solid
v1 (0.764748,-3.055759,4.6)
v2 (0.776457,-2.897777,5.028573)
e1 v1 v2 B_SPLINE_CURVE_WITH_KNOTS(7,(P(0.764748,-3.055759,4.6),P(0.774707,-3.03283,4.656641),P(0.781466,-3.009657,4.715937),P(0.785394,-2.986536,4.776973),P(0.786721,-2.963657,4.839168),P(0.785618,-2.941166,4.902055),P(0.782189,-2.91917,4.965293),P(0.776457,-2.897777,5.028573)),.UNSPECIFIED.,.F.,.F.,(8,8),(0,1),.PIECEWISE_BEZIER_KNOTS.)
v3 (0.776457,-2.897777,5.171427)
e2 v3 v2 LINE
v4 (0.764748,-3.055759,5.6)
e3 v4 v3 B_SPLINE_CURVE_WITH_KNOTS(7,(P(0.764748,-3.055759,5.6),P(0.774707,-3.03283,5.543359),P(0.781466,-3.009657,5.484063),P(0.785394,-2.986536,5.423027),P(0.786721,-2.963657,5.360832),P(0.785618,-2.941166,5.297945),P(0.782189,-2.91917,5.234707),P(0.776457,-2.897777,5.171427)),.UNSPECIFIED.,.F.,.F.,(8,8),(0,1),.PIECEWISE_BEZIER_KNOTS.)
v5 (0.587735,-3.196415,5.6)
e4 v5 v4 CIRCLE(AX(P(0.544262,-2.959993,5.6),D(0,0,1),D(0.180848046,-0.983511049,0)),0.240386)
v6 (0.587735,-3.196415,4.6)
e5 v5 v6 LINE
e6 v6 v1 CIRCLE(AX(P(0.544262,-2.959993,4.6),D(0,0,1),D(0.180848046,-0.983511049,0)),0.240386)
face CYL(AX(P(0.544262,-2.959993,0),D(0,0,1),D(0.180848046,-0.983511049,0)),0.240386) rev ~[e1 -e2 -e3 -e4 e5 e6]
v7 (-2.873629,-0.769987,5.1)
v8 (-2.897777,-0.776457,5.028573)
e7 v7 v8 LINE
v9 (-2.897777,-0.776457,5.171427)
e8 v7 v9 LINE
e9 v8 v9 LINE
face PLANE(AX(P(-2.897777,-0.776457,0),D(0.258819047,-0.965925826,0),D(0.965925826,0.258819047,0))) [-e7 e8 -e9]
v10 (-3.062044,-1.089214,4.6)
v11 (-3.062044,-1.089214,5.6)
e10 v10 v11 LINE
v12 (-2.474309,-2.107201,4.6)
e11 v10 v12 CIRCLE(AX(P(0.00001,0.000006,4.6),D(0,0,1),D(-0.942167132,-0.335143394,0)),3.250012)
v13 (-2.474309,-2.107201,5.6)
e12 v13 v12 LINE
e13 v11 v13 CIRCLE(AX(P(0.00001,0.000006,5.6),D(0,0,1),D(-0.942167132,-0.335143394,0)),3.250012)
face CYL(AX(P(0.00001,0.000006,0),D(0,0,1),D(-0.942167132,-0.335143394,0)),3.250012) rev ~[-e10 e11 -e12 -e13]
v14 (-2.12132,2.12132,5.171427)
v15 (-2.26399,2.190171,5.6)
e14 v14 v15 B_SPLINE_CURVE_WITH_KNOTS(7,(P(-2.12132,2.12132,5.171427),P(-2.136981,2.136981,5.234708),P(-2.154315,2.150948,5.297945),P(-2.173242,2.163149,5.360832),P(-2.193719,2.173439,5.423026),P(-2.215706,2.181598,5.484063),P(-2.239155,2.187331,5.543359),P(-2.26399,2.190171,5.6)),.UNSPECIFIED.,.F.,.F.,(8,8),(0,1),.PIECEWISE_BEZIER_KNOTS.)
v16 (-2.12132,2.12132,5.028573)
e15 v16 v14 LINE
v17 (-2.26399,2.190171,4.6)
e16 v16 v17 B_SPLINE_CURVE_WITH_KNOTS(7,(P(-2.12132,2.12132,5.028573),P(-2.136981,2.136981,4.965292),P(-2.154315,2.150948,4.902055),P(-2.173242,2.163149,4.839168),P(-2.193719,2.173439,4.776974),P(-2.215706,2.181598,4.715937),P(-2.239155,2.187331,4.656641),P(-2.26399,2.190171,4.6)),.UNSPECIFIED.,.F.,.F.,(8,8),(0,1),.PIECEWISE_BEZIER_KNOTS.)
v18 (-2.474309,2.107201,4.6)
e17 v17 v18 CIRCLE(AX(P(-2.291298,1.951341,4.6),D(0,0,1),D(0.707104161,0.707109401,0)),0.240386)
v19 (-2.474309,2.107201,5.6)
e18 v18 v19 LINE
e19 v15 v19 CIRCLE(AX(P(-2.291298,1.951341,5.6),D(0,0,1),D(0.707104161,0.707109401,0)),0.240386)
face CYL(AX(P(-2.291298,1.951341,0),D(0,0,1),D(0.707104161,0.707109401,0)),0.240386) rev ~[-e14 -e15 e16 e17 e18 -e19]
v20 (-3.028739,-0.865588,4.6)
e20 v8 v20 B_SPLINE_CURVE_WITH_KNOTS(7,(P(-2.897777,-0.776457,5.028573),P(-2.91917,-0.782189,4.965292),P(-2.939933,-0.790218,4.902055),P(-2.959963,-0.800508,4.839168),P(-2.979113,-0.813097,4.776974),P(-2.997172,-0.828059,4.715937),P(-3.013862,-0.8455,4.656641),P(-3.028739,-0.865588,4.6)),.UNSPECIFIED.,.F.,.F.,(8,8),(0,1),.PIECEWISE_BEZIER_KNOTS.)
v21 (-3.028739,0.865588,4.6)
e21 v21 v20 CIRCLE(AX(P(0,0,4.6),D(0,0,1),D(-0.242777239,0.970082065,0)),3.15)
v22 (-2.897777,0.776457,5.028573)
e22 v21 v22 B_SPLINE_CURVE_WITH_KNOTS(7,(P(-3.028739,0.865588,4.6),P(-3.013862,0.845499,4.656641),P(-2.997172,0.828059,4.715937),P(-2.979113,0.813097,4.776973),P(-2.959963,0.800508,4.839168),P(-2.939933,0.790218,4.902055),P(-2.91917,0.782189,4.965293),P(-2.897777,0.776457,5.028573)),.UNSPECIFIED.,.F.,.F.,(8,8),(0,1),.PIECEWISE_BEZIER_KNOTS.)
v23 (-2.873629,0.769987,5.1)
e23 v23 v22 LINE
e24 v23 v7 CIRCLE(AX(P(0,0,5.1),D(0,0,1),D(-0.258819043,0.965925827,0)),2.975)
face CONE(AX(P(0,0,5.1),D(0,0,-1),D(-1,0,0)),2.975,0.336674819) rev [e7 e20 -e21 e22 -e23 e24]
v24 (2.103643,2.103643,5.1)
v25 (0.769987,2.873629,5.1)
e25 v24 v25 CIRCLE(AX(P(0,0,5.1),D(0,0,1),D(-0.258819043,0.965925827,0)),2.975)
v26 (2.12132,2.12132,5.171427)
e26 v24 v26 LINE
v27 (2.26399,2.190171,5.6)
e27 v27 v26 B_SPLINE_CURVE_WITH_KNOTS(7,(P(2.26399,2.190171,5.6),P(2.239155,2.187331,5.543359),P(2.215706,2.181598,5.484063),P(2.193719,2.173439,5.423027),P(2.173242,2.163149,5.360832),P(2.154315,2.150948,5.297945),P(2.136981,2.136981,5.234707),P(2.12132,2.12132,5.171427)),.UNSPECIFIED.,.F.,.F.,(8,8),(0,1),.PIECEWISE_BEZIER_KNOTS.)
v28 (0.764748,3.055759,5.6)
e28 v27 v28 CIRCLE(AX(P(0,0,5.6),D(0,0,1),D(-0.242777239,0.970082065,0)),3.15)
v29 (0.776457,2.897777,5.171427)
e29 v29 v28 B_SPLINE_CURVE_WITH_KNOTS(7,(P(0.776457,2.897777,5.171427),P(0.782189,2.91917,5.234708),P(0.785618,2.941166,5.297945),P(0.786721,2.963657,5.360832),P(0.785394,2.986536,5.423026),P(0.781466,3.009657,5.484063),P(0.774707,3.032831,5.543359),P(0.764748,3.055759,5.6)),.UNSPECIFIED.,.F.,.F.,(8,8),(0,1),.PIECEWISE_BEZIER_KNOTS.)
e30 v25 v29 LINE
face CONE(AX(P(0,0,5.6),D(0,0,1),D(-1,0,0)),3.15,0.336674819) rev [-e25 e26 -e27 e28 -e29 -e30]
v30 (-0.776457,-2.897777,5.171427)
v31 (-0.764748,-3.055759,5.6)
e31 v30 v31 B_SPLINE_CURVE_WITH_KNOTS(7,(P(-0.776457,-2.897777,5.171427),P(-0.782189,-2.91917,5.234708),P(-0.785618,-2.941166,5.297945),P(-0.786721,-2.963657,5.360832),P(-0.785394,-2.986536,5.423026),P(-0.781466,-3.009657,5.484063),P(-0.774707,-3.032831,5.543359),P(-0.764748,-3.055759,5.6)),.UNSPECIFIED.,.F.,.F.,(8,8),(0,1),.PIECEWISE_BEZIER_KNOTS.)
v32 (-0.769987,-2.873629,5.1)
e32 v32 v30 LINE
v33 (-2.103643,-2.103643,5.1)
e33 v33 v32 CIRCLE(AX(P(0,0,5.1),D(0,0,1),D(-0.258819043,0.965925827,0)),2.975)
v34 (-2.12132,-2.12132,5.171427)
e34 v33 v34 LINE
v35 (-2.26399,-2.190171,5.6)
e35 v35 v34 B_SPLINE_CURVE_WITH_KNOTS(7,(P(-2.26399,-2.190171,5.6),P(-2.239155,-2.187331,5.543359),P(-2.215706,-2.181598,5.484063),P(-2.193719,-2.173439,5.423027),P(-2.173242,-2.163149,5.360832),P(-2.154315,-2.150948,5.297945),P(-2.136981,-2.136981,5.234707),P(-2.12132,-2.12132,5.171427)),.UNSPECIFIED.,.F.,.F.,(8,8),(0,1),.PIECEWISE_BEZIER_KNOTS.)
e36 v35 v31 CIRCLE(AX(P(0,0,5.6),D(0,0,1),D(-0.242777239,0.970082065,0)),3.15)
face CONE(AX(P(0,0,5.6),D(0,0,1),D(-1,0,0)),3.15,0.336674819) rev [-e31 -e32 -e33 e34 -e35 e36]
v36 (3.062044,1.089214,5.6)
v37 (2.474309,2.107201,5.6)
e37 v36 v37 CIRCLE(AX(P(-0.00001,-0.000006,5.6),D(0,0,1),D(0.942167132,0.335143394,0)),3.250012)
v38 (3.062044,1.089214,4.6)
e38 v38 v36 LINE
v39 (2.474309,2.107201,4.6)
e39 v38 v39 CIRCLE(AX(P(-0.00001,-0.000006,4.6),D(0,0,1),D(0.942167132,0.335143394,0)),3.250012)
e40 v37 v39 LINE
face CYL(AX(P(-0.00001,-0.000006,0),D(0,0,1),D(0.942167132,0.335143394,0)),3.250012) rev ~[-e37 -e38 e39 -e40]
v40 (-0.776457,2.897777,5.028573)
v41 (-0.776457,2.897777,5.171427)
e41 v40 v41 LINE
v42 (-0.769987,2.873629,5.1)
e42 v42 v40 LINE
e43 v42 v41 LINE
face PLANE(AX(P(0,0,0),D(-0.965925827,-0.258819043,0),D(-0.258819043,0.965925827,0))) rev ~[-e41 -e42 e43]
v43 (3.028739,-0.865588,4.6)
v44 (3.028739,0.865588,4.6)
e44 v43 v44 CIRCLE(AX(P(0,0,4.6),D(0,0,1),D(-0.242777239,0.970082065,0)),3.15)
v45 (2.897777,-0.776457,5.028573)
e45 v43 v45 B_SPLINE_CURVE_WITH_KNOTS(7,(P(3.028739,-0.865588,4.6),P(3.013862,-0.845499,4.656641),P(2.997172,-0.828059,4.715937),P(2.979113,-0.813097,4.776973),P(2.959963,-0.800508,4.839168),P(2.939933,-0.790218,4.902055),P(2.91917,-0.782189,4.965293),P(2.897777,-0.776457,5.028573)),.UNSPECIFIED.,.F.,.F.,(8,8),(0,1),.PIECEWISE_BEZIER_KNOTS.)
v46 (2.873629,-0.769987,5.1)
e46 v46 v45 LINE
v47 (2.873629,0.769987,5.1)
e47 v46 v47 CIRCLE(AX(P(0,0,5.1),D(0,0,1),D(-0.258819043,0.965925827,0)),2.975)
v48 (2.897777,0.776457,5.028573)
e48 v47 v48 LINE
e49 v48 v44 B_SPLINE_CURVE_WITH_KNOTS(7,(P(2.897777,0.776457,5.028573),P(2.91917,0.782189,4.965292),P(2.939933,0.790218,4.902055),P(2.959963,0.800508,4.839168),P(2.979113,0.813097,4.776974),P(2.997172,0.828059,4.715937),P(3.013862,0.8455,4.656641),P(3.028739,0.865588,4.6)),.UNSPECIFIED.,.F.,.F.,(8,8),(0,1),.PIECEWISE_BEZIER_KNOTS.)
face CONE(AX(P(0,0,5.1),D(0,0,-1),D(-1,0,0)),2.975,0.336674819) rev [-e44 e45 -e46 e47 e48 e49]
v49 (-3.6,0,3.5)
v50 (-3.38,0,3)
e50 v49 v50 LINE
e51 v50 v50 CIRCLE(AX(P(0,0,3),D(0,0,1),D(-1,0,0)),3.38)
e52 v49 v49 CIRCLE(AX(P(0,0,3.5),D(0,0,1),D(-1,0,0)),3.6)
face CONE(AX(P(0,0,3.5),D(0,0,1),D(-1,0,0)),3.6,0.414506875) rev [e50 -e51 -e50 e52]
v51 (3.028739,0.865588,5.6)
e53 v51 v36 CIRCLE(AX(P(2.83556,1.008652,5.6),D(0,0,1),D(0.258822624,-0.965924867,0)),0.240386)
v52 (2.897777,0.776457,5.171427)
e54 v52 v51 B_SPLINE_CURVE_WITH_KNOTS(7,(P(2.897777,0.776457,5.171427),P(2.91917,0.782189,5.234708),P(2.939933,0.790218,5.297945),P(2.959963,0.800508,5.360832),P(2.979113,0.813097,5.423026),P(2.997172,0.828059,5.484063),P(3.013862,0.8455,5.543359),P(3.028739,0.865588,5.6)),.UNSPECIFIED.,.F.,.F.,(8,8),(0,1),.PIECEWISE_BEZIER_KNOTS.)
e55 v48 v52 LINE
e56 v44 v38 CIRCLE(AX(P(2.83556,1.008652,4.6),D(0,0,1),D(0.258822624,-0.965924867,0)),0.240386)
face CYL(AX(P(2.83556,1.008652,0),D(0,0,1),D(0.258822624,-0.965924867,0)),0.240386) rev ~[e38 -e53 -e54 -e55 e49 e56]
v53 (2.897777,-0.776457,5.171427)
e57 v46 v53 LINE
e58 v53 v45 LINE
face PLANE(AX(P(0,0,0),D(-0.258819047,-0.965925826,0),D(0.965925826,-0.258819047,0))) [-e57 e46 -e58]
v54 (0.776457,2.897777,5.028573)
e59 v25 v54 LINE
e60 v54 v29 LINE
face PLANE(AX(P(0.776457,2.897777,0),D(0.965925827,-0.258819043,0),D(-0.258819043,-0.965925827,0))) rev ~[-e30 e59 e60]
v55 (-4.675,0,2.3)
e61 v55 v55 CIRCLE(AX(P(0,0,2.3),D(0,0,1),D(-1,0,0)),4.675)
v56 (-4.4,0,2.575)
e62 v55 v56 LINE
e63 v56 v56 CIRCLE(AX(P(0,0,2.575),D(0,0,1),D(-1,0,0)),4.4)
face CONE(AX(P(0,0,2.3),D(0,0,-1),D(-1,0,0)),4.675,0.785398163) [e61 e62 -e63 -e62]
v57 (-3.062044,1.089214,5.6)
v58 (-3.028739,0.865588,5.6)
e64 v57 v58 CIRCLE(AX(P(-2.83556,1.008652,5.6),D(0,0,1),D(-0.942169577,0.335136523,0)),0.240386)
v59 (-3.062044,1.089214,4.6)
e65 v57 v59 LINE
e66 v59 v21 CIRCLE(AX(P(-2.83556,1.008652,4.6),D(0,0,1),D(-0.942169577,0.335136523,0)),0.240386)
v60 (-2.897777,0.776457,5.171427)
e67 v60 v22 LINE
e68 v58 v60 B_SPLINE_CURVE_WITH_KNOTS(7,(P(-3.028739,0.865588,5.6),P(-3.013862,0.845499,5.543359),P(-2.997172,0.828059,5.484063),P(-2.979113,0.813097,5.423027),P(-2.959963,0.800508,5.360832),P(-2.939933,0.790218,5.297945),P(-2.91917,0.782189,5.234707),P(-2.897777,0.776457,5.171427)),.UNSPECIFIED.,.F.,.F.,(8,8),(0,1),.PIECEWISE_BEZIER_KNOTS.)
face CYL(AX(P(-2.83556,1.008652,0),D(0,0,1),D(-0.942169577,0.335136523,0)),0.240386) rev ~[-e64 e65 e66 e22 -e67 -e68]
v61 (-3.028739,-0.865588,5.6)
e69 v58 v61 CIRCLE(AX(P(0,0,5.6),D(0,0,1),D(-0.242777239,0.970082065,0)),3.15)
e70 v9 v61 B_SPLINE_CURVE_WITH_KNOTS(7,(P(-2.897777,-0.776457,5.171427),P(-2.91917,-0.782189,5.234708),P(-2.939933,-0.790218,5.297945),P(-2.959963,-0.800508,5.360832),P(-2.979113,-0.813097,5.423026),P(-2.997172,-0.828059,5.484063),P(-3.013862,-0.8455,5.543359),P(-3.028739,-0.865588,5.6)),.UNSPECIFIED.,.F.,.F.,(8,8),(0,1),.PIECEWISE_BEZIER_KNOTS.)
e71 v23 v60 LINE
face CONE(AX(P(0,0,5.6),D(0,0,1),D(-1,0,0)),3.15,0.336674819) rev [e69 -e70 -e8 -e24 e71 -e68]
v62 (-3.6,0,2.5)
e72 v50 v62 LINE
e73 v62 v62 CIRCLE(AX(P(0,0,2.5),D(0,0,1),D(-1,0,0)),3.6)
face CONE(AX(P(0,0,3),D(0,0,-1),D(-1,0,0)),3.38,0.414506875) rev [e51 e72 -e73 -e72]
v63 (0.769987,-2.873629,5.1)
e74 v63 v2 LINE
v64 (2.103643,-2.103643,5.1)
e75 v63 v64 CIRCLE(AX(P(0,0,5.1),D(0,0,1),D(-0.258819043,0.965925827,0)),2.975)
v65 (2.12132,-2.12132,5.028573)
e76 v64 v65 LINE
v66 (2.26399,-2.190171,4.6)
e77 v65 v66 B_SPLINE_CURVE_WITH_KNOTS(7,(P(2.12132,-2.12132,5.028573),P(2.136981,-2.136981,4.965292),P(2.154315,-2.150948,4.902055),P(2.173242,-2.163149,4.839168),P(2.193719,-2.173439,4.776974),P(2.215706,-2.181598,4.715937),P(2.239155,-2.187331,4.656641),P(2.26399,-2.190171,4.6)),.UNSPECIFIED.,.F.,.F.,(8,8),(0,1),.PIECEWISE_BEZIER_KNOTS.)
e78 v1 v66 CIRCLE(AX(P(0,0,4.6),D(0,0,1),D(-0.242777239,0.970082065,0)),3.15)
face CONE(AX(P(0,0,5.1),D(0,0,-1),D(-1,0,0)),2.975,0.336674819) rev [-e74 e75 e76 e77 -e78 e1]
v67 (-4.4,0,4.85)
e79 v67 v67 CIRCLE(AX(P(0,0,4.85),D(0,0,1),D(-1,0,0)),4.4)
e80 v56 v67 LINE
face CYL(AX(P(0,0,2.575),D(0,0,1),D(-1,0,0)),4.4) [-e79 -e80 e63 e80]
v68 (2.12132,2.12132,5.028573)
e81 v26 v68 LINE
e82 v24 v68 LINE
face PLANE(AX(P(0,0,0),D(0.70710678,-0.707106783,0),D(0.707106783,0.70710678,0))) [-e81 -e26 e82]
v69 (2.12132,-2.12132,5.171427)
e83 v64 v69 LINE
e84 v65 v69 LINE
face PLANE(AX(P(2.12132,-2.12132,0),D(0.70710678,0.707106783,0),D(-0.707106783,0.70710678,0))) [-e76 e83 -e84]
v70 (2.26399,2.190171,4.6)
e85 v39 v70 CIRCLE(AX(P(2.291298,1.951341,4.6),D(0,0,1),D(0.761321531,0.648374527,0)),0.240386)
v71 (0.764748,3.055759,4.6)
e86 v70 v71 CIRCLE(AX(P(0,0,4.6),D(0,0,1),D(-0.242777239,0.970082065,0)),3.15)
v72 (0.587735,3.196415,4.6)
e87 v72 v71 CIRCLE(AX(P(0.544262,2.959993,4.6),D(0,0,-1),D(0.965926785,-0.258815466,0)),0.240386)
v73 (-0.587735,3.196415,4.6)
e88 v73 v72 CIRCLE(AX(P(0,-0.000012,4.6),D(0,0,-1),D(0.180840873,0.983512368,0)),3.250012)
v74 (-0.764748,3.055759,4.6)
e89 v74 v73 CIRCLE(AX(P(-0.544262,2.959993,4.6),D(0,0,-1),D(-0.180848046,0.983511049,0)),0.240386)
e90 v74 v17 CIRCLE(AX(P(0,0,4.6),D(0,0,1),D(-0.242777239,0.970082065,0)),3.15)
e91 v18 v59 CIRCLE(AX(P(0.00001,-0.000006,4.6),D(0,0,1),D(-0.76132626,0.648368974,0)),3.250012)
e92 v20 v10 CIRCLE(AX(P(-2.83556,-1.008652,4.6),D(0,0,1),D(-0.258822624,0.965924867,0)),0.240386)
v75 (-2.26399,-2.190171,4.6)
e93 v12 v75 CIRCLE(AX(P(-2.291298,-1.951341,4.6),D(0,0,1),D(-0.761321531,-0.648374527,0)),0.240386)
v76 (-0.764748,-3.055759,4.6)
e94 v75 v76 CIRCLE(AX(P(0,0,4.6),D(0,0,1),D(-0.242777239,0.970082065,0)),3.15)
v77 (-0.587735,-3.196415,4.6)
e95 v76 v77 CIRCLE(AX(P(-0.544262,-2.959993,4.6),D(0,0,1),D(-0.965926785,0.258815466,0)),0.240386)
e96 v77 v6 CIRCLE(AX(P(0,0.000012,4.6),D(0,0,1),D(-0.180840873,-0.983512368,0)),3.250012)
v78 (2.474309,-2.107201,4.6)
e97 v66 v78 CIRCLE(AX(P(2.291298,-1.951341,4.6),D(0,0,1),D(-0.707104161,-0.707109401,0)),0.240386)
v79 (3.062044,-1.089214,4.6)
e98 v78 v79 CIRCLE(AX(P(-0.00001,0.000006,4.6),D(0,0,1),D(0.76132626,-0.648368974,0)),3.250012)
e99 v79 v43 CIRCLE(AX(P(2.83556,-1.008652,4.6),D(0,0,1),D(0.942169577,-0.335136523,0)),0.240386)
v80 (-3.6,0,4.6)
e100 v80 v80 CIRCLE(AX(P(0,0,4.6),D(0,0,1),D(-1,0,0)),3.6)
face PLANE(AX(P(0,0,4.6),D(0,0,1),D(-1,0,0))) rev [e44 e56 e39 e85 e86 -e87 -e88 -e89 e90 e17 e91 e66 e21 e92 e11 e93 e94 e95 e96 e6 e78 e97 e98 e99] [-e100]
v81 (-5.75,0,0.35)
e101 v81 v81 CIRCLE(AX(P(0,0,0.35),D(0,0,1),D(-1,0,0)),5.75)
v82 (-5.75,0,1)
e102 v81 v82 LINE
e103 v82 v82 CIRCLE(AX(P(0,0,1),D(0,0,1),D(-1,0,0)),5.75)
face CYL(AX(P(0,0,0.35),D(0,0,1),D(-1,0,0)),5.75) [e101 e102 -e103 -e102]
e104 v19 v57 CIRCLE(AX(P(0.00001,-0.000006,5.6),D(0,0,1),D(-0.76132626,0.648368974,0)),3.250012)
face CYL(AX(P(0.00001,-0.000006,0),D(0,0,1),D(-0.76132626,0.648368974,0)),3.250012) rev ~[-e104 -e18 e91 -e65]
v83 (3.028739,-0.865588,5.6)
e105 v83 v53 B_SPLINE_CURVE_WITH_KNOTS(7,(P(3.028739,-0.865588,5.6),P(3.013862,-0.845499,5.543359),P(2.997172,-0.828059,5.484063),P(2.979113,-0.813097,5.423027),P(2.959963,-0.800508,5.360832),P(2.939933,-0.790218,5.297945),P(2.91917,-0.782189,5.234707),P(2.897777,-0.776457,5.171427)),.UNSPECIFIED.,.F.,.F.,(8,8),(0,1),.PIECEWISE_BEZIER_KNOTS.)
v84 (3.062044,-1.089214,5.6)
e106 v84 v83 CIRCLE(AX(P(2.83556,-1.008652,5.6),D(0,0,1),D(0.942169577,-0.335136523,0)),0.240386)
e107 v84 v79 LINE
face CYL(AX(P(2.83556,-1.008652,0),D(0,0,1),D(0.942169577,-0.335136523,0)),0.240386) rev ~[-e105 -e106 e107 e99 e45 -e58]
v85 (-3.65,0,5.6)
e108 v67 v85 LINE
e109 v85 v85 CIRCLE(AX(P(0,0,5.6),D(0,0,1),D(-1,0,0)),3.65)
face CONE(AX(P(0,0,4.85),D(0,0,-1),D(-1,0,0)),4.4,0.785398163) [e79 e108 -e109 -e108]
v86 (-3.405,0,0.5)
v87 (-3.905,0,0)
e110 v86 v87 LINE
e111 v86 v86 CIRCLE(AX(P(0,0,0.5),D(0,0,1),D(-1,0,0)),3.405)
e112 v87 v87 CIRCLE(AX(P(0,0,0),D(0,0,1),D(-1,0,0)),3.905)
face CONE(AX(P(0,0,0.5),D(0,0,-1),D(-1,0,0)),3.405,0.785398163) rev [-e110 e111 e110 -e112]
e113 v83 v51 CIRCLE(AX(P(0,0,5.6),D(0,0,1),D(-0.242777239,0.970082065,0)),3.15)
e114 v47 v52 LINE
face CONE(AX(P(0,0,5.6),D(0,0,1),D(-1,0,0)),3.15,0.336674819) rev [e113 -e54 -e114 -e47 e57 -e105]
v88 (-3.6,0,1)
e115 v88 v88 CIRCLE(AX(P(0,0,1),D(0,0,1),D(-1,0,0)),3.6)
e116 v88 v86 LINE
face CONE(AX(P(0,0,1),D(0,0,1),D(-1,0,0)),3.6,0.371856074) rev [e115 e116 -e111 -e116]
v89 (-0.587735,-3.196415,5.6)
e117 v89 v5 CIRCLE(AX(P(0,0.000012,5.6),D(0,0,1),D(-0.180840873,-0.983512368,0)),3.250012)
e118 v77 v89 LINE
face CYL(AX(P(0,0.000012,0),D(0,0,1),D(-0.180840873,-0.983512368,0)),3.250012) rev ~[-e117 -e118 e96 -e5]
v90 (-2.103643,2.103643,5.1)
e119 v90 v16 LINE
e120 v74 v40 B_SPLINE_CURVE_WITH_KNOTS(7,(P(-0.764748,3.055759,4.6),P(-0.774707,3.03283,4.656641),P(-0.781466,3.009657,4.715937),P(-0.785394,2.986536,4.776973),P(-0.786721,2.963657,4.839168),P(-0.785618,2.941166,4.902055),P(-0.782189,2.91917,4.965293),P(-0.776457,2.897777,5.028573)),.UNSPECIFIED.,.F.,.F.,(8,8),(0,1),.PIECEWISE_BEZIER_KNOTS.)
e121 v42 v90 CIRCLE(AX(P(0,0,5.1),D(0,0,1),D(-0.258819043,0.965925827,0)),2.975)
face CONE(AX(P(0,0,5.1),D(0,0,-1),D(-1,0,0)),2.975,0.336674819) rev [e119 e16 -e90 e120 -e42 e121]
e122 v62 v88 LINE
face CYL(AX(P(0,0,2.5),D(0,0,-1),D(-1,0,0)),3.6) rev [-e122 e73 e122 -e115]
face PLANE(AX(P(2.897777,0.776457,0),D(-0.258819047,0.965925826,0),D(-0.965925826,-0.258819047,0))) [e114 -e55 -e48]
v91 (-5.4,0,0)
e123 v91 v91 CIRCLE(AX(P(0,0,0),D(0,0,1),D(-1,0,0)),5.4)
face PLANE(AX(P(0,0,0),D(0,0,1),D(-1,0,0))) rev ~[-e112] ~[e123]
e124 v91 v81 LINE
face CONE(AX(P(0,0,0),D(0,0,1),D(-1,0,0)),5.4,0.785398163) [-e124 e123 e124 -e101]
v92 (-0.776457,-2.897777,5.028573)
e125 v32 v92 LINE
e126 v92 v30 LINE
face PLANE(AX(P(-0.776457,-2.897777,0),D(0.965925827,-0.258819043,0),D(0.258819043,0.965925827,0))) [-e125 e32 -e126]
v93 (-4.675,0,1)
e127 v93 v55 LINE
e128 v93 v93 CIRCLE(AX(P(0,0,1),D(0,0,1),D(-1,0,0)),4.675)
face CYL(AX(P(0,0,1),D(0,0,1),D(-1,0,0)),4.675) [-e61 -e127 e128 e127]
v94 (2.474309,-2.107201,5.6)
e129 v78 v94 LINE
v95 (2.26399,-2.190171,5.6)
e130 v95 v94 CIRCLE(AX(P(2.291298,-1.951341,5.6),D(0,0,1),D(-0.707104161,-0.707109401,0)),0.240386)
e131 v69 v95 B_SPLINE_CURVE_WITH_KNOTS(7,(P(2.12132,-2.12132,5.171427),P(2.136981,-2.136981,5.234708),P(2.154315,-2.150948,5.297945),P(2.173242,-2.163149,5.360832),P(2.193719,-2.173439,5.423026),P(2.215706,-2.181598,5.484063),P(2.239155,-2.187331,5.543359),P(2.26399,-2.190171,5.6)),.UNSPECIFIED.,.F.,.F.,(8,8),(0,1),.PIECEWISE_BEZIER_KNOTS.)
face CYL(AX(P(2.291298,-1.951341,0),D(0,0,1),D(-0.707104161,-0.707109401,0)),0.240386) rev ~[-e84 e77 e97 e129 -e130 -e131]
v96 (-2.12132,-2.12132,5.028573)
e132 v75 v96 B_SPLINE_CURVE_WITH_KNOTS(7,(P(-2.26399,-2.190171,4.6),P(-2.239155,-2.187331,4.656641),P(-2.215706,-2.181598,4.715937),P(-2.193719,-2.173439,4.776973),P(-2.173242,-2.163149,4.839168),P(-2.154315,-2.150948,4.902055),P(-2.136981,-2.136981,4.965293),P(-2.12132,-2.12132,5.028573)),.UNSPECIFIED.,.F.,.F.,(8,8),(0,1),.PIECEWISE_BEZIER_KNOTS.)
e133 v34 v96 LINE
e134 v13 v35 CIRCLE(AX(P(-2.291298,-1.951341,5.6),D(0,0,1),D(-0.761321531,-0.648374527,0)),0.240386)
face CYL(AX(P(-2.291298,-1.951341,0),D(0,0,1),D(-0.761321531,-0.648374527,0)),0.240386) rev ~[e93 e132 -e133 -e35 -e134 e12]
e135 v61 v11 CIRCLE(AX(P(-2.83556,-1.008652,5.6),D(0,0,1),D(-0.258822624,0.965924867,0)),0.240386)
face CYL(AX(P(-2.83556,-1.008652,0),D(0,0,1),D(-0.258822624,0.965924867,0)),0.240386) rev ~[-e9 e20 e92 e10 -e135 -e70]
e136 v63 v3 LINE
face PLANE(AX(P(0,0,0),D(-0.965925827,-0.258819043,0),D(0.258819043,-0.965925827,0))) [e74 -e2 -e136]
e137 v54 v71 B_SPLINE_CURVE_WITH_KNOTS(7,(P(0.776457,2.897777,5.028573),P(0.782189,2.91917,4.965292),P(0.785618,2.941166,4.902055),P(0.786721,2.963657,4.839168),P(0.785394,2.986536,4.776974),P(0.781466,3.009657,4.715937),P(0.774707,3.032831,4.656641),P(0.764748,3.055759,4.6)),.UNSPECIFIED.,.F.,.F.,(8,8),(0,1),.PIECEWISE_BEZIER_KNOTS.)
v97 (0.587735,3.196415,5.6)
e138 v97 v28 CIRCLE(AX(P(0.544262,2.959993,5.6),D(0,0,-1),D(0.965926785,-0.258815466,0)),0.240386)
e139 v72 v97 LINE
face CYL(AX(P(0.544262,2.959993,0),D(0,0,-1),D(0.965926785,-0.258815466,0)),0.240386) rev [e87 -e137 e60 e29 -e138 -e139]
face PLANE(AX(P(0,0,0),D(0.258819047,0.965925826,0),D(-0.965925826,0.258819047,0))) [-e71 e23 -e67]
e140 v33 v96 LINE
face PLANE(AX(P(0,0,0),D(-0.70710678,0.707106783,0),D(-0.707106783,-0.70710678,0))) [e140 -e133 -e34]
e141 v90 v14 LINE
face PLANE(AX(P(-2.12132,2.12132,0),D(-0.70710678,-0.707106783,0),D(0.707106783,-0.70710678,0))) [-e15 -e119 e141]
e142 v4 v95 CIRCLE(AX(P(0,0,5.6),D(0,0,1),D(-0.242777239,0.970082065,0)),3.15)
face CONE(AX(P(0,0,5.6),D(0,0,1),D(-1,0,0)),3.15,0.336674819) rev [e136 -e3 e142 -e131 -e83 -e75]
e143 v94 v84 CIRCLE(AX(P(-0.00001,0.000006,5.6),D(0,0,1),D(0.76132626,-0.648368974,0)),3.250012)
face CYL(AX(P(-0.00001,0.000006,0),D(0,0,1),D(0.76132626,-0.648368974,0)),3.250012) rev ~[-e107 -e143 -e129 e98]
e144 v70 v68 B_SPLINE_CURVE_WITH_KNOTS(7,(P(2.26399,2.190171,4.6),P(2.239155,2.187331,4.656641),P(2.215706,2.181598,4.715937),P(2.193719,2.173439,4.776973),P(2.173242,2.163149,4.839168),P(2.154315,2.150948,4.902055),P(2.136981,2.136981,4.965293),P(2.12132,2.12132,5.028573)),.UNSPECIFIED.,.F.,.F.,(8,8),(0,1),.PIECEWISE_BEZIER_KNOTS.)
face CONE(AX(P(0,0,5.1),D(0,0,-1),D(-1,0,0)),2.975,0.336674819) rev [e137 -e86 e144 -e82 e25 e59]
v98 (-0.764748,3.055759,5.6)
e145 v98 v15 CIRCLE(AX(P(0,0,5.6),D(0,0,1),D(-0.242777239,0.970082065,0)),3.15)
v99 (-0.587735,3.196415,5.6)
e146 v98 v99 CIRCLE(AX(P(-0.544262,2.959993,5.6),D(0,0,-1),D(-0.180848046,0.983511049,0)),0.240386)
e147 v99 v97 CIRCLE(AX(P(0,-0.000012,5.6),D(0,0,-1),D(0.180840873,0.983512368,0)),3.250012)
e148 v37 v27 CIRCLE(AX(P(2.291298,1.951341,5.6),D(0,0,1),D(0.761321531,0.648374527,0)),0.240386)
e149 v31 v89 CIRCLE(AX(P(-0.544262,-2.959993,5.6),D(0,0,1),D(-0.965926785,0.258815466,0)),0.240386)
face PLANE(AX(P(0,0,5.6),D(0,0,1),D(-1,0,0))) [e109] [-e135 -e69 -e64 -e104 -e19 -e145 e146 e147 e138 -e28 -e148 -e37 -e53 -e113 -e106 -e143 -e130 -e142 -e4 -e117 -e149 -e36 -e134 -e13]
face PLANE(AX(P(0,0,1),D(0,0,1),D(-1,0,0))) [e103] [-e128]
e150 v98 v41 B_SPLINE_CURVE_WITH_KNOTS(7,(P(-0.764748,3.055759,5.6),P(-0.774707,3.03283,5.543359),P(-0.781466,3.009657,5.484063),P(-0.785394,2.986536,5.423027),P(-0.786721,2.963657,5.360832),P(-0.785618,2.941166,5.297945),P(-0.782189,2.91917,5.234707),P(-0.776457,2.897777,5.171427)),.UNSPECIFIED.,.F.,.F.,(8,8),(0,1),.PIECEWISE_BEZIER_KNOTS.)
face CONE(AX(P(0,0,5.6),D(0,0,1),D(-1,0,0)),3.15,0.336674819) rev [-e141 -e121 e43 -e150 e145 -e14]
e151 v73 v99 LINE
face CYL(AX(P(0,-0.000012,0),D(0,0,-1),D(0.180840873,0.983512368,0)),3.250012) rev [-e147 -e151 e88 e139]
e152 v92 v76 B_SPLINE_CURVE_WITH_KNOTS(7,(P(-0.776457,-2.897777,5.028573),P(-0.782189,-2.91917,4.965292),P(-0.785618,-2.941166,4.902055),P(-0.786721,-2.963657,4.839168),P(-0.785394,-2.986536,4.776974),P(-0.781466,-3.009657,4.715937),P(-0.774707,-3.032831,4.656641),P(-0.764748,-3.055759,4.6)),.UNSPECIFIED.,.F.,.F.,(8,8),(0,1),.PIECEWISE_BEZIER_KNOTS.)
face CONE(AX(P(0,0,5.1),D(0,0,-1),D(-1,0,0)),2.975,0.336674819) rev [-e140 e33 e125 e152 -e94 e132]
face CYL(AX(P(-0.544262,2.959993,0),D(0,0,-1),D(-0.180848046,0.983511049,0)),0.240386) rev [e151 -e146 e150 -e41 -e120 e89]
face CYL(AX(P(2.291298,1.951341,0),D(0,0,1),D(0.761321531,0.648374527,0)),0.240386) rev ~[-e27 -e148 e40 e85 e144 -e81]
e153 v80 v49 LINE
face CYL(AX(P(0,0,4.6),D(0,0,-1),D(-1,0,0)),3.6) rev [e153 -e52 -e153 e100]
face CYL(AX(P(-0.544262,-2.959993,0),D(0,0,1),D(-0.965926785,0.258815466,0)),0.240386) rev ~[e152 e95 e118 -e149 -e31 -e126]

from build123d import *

# Parameters (mm, degrees)
POCKET_DEPTH       = 34.402163
POCKET_DEPTH_BACK  = 40.002163
POLARPATTERN_COUNT = 6


with BuildPart() as part:
    # Sketch → Revolution (revolve)
    with BuildSketch(Plane.XZ):
        Polygon((-3.6, 4.6), (-3.6, 3.5), (-3.38, 3), (-3.6, 2.5), (-3.6, 1), (-3.405, 0.5), (-3.905, 0), (-4.4, 0), (-5.4, 0), (-5.75, 0.35), (-5.75, 1), (-4.675, 1), (-4.675, 2.3), (-4.4, 2.575), (-4.4, 4.85), (-3.65, 5.6), (-3.15, 5.6), (-2.975, 5.1), (-3.15, 4.6), align=None)
    revolve(axis=Axis((0, 0, 0), (0, 0, 1)))

    # Sketch001 → Pocket (cut, two sides)
    with BuildSketch(Plane.XY) as pocket_sk:
        with BuildLine():
            Line((0, 0), (-0.776457, 2.897777))
            ThreePointArc((-0.587735, 3.196415), (-0.747472, 3.08841), (-0.776457, 2.897777))
            ThreePointArc((0.587735, 3.196415), (0, 3.25), (-0.587735, 3.196415))
            ThreePointArc((0.776457, 2.897777), (0.747472, 3.08841), (0.587735, 3.196415))
            Line((0.776457, 2.897777), (0, 0))
        make_face()
    pocket = extrude(amount=-POCKET_DEPTH, mode=Mode.SUBTRACT) + extrude(pocket_sk.sketch, amount=POCKET_DEPTH_BACK, mode=Mode.SUBTRACT)

    # PolarPattern: Pocket ×6 about axis
    polarpattern_axis = Axis((0, 0, 0), (0, 0, 1))
    for i in range(1, POLARPATTERN_COUNT):
        add(pocket.rotate(polarpattern_axis, i * 360 / POLARPATTERN_COUNT), mode=Mode.SUBTRACT)


solid = part.part
